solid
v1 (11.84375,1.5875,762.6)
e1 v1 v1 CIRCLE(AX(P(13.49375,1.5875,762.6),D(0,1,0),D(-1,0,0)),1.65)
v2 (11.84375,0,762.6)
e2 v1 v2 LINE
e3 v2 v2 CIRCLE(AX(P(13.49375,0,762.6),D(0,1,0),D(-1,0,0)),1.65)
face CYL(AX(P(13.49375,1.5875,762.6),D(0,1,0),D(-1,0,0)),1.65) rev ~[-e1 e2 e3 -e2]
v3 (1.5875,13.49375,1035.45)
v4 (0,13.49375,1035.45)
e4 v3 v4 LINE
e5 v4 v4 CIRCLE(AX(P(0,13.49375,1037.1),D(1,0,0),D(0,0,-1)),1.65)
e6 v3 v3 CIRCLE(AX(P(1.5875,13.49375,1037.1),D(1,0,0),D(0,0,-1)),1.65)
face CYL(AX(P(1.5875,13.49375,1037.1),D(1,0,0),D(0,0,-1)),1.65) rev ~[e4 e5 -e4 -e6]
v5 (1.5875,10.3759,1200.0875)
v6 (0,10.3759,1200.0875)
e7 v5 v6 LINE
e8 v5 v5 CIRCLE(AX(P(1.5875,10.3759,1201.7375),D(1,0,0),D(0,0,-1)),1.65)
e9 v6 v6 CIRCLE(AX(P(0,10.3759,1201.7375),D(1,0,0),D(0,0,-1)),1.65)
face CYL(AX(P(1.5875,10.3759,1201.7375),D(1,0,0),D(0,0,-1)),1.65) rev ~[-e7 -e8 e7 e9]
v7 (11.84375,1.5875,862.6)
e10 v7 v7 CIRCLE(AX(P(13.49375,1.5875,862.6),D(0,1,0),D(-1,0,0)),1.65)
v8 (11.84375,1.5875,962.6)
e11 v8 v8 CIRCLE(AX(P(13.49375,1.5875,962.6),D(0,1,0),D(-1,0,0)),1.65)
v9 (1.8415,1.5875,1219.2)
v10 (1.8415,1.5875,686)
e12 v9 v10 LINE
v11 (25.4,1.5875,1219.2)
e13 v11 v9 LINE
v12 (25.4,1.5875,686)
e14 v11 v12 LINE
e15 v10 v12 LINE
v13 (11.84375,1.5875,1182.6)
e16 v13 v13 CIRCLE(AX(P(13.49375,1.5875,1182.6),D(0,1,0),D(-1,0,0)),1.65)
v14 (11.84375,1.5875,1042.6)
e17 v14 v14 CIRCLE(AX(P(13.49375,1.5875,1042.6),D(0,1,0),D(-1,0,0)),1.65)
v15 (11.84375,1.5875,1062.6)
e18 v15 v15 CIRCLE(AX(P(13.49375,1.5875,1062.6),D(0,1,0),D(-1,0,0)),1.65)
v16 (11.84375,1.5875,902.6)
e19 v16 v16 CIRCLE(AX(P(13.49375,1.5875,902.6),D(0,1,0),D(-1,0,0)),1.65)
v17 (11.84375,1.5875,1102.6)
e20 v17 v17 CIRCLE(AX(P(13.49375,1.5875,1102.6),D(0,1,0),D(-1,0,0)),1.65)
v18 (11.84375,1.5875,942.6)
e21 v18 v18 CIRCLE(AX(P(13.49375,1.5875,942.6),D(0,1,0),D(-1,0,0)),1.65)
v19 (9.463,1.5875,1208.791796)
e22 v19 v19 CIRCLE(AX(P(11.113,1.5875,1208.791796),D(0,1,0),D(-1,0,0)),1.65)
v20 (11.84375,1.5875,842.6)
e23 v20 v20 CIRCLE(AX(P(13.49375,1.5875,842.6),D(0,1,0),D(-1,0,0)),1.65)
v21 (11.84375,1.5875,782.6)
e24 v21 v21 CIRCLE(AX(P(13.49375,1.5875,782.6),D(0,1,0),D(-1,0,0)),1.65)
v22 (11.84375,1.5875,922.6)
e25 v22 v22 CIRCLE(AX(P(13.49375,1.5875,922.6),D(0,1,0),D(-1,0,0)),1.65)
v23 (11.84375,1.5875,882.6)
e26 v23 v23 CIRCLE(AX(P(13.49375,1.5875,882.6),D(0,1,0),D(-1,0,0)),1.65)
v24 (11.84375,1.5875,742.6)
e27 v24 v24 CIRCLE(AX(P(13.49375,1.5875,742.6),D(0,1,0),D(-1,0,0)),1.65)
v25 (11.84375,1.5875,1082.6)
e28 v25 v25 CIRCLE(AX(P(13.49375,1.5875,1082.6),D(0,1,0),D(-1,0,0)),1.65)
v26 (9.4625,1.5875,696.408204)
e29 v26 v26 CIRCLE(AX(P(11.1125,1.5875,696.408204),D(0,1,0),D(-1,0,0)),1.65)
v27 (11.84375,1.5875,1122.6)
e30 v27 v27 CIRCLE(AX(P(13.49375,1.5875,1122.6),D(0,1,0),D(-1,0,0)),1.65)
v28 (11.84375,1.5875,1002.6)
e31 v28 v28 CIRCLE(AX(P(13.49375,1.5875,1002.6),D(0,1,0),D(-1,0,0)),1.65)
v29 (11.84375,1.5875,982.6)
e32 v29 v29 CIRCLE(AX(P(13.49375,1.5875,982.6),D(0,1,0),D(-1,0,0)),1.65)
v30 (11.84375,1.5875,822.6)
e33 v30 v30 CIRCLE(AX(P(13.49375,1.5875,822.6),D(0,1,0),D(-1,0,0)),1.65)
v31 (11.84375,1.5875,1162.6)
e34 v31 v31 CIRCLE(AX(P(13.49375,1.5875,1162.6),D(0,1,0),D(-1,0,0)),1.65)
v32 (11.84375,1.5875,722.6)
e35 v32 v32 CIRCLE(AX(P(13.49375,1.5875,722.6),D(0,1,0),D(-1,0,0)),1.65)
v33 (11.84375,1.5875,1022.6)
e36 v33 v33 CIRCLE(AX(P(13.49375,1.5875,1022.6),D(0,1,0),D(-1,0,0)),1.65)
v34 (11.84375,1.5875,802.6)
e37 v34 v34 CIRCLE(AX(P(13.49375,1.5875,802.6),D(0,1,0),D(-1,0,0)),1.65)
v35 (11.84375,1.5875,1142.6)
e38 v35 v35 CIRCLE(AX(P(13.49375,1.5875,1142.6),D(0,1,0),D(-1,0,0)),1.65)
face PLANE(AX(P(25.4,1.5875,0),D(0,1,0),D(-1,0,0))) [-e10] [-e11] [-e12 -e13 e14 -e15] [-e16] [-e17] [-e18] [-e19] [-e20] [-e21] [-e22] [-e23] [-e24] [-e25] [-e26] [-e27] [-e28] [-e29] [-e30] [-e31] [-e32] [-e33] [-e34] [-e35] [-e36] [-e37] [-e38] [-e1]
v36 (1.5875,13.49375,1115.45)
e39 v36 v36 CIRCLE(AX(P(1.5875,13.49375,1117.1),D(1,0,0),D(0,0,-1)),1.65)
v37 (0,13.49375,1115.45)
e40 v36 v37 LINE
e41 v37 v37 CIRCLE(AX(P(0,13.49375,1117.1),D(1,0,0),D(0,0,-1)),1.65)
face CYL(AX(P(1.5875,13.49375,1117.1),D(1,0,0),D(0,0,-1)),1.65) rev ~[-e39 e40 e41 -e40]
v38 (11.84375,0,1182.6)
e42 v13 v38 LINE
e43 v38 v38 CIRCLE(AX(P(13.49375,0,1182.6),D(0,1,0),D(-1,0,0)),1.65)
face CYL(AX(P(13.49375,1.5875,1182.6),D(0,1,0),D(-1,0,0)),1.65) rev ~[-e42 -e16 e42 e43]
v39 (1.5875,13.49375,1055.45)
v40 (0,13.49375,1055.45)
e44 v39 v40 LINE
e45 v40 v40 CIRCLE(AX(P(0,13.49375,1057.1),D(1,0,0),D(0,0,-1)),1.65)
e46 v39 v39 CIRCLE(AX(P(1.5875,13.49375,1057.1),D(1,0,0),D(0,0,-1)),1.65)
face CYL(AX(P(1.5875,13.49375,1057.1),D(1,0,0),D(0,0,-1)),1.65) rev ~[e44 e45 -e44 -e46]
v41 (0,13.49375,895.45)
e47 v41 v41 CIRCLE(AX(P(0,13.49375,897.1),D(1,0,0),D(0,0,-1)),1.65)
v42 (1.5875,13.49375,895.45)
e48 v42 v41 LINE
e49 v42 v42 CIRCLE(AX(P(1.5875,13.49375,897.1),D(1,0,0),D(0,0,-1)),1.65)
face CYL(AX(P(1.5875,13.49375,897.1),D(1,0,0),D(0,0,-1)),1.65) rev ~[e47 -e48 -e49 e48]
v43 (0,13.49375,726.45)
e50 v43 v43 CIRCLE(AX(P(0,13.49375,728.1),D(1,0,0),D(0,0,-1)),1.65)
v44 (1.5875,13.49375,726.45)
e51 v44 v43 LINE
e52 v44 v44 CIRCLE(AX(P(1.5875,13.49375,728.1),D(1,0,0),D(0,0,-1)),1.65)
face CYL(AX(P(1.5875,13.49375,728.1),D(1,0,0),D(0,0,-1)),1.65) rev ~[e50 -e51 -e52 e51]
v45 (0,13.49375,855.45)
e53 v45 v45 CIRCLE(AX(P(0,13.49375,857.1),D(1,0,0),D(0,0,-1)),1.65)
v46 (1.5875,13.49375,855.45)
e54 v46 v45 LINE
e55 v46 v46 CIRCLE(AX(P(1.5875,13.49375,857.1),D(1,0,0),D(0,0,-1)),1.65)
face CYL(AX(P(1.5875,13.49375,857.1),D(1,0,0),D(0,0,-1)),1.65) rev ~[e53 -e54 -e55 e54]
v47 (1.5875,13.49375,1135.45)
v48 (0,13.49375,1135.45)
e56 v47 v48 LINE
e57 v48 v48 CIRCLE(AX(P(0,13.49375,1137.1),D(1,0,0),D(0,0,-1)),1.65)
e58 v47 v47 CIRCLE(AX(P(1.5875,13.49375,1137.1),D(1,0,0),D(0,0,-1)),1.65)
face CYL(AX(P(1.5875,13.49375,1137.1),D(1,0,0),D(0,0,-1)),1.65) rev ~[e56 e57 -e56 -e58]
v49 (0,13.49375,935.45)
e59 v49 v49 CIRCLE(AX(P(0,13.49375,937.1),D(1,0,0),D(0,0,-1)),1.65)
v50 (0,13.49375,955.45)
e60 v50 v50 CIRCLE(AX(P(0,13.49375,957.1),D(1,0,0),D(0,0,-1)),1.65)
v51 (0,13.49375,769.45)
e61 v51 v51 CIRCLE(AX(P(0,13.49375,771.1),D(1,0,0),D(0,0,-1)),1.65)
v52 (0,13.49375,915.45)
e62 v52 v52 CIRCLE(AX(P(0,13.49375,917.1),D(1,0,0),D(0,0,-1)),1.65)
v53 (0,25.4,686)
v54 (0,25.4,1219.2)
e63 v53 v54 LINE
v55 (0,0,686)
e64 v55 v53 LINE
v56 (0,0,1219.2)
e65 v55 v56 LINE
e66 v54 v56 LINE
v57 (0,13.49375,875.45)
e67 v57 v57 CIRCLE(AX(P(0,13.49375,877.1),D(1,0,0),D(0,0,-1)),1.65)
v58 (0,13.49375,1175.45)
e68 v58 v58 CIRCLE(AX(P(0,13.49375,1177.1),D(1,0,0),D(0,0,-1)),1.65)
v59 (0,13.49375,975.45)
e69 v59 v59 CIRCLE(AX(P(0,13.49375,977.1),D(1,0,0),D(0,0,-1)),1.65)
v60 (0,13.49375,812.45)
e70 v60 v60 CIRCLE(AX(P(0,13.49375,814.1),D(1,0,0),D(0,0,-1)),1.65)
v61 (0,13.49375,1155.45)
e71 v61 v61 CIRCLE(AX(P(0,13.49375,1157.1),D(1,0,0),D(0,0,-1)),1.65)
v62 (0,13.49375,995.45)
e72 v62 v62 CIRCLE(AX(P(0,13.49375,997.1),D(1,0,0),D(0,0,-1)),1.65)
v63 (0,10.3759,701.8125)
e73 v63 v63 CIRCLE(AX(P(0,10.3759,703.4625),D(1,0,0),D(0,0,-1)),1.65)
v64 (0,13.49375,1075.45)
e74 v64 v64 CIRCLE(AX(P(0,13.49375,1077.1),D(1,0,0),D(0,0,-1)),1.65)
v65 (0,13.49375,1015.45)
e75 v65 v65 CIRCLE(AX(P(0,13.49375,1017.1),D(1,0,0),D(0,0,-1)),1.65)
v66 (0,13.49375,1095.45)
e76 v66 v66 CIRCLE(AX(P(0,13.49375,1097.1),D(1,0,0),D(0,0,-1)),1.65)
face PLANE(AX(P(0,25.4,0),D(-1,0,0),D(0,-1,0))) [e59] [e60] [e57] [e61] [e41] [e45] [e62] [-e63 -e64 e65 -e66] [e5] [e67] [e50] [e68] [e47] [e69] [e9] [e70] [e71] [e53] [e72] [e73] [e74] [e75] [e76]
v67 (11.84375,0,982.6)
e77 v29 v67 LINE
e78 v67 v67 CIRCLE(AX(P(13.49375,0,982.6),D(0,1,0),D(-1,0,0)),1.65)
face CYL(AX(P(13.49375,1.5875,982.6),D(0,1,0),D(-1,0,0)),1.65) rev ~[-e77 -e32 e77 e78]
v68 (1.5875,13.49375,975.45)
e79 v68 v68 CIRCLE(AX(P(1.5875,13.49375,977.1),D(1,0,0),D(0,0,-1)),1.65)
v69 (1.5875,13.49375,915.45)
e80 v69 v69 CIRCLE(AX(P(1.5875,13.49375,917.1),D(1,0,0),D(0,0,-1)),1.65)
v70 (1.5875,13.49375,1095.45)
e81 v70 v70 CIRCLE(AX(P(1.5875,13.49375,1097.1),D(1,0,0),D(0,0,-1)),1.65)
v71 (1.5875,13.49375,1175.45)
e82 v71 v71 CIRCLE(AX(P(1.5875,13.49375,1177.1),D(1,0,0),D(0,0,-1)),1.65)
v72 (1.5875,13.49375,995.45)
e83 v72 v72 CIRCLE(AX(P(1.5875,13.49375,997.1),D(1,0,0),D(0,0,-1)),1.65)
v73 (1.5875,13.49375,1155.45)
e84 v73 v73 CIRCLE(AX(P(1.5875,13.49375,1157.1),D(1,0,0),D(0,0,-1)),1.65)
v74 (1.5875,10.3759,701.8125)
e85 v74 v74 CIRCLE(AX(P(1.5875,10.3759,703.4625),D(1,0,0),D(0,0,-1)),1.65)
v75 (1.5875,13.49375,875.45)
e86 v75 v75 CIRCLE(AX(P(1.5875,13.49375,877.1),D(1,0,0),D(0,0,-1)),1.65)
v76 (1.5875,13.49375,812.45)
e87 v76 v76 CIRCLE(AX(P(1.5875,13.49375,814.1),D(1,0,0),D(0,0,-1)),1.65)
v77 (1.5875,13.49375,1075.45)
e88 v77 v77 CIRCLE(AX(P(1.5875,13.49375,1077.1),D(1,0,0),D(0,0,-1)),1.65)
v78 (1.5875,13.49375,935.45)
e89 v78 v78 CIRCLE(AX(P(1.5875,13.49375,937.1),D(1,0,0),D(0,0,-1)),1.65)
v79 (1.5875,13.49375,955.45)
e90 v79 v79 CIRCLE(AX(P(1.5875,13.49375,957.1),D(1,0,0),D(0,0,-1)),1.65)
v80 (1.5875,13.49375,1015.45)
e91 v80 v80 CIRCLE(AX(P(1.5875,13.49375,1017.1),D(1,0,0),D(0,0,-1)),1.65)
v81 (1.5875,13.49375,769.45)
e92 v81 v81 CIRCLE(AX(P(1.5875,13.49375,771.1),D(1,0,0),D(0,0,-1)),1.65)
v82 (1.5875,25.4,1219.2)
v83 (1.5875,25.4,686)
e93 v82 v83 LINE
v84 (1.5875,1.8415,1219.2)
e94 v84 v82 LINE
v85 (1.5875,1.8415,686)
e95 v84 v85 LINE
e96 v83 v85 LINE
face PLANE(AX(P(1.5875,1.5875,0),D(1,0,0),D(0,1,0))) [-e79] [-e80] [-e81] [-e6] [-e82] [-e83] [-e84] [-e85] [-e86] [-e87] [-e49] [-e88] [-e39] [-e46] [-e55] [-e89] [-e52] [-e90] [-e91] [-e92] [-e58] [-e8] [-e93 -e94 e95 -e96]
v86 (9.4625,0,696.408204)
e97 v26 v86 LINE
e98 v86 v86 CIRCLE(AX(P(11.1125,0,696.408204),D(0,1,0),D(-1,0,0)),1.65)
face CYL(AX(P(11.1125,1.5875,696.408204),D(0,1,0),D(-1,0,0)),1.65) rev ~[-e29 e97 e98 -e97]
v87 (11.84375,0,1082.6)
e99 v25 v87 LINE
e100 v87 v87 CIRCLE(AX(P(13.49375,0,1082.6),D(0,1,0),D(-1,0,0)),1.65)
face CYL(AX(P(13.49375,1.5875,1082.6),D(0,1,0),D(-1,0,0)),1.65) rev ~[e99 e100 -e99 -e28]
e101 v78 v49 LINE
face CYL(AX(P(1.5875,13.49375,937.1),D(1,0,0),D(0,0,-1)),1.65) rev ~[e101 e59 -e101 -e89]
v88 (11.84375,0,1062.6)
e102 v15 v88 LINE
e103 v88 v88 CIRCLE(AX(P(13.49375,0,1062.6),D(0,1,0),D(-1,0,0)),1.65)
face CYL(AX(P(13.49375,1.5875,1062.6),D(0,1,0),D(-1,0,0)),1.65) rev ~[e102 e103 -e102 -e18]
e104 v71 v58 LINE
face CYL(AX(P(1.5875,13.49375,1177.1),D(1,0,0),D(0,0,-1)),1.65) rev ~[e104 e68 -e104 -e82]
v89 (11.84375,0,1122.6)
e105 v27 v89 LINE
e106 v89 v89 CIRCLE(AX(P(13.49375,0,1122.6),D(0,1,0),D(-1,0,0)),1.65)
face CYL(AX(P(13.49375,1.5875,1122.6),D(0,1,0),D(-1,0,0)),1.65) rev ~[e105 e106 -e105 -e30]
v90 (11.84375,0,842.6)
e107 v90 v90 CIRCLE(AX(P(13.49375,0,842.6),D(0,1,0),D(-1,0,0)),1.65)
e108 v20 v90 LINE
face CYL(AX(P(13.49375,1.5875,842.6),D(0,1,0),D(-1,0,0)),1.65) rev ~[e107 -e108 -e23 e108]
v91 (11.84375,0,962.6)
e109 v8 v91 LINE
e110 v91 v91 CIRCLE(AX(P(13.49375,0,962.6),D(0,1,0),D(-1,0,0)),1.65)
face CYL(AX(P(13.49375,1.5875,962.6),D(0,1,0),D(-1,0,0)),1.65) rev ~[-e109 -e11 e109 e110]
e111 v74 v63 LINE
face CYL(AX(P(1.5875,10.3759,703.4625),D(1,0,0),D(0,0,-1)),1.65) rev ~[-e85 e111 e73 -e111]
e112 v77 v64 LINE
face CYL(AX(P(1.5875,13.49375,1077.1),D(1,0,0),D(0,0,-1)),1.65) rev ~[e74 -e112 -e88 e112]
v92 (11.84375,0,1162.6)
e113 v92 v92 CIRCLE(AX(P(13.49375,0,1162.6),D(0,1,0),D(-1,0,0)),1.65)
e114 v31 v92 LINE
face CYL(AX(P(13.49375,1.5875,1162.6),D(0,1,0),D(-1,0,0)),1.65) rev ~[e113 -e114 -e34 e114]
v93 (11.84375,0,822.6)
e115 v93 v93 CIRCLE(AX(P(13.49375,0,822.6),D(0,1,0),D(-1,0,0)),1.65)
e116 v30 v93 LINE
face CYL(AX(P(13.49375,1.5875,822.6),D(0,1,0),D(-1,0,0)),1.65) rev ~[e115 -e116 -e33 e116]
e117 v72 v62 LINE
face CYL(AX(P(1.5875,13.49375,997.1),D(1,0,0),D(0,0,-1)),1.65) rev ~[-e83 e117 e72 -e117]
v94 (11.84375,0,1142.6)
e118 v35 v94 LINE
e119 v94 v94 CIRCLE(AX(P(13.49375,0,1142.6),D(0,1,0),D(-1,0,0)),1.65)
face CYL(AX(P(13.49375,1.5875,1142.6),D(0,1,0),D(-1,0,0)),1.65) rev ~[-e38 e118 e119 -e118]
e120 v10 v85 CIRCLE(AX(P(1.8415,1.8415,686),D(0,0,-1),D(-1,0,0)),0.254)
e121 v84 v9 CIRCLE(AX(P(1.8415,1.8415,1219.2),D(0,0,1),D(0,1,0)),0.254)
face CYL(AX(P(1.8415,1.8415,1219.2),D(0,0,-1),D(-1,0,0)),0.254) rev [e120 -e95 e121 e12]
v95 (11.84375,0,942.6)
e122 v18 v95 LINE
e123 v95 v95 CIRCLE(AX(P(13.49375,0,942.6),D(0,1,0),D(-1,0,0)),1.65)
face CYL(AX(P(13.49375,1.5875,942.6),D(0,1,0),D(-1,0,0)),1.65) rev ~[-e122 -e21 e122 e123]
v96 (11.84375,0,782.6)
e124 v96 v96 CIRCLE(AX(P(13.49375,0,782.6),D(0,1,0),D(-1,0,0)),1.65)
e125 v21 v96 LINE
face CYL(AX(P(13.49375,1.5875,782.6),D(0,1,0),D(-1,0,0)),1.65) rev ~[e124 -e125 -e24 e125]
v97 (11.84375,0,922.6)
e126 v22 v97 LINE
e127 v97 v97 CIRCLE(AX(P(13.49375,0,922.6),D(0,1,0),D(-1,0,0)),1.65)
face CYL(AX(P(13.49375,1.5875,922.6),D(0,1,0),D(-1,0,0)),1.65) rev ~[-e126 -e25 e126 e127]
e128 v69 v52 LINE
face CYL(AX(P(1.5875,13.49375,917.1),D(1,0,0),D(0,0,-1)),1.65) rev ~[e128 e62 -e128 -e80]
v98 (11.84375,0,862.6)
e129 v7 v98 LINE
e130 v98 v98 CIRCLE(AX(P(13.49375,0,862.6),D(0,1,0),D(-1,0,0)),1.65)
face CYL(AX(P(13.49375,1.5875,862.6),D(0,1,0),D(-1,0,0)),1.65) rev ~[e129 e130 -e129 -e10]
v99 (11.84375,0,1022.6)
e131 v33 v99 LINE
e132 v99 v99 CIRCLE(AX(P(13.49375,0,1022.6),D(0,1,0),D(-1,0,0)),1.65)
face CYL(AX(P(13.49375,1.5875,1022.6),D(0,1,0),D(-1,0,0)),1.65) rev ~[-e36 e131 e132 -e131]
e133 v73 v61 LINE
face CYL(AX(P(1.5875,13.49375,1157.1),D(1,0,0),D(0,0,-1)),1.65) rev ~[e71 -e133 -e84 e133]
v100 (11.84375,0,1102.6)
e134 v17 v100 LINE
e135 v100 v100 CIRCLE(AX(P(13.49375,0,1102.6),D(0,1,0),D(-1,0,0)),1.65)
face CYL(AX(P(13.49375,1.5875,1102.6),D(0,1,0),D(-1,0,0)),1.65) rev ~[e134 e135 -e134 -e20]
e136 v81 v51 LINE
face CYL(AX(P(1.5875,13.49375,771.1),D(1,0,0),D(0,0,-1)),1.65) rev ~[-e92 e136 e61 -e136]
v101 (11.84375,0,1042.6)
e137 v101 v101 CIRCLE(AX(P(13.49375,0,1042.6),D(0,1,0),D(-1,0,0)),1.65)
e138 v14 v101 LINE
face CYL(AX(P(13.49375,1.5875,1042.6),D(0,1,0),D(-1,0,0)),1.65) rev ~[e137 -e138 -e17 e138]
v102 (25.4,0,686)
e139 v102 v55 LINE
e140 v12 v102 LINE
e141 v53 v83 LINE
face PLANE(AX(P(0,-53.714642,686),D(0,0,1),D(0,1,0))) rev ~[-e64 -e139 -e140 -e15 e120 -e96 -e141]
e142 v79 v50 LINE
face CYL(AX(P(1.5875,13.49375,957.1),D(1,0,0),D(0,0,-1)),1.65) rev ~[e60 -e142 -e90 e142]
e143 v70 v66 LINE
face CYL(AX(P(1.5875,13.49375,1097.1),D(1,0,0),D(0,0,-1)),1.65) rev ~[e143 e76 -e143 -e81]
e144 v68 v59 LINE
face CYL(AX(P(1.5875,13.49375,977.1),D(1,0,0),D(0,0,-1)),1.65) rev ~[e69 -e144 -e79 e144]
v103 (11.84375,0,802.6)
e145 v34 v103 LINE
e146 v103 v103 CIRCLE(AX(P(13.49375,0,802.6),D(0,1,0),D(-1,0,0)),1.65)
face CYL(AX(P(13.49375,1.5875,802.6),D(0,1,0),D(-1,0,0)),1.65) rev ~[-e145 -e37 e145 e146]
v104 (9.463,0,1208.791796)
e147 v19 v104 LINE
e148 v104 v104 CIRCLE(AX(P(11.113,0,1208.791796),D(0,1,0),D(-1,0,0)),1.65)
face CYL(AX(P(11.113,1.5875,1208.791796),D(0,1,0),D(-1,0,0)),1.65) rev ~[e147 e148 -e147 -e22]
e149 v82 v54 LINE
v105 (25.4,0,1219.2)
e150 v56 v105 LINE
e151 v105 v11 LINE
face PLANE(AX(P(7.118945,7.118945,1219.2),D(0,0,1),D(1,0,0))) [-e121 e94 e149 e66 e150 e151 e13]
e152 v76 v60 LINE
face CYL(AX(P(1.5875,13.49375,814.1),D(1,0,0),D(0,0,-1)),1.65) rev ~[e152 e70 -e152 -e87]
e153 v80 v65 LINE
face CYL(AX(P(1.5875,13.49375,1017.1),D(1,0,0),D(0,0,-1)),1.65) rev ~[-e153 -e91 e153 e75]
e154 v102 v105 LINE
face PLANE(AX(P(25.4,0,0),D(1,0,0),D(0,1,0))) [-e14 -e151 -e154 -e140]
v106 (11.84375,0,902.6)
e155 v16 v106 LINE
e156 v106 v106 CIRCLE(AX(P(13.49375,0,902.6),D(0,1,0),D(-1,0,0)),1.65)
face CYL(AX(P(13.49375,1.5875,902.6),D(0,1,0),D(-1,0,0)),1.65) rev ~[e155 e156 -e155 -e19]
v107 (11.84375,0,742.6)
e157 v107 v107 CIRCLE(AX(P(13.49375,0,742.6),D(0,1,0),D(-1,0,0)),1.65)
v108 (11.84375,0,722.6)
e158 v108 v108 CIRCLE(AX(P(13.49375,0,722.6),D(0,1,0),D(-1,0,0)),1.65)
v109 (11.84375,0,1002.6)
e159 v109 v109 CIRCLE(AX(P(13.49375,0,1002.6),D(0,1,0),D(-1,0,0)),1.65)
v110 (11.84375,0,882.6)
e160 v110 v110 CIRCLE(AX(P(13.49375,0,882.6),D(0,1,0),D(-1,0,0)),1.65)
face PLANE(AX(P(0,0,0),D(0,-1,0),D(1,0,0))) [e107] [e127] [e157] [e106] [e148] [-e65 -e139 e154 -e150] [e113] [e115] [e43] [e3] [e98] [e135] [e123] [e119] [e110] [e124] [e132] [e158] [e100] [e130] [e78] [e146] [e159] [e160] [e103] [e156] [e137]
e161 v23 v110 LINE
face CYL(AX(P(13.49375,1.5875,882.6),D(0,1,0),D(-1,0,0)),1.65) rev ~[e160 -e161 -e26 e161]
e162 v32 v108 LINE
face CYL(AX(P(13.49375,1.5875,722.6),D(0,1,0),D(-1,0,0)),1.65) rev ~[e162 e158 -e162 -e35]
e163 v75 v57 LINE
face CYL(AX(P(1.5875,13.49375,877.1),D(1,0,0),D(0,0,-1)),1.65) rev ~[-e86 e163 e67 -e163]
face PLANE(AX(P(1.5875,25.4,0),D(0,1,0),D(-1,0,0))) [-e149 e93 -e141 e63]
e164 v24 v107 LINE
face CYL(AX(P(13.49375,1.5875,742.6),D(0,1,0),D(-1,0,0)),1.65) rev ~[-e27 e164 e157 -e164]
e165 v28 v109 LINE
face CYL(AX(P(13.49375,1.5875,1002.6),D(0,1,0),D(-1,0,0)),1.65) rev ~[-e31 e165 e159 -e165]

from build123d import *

# Parameters (mm, degrees)
BOSS_EXTRUDE1_DEPTH = 1219.2
FILLET1_R           = 0.254
SKETCH4_W           = 1905.2
SKETCH4_H           = 92.573708452
CUT_EXTRUDE1_DEPTH  = 60
SKETCH9_R           = 1.65
CUT_EXTRUDE6_DEPTH  = 60
SKETCH10_R          = 1.65
CUT_EXTRUDE7_DEPTH  = 60


with BuildPart() as part:
    # Sketch3 → Boss-Extrude1 (new, symmetric)
    with BuildSketch(Plane.XY):
        Polygon((1.5875, 25.4), (0, 25.4), (0, 0), (25.4, 0), (25.4, 1.5875), (1.5875, 1.5875), align=None)
    extrude(amount=BOSS_EXTRUDE1_DEPTH, both=True)

    # Fillet1
    fillet1_edges = [part.edges().sort_by_distance(p)[0] for p in [
        (1.5875, 1.5875, 0),
    ]]
    fillet(fillet1_edges, radius=FILLET1_R)

    # Sketch4 → Cut-Extrude1 (cut)
    with BuildSketch(Plane.ZY):
        with Locations((-266.6, -7.427787689)):
            Rectangle(SKETCH4_W, SKETCH4_H)
    extrude(amount=-CUT_EXTRUDE1_DEPTH, mode=Mode.SUBTRACT)

    # Sketch9 → Cut-Extrude6 (cut)
    with BuildSketch(Plane(origin=(0, 1.5875, 0), x_dir=(1, 0, 0), z_dir=(0, 1, 0))):
        with Locations(Location((11.113, -1208.791795667, 0), (0, 0, 180))):
            Circle(SKETCH9_R)
        with Locations(Location((11.1125, -696.408204333, 0), (0, 0, 180))):
            Circle(SKETCH9_R)
        with Locations(Location((13.49375, -1182.6, 0), (0, 0, 180))):
            Circle(SKETCH9_R)
        with Locations(Location((13.49375, -1162.6, 0), (0, 0, 180))):
            Circle(SKETCH9_R)
        with Locations(Location((13.49375, -1142.6, 0), (0, 0, 180))):
            Circle(SKETCH9_R)
        with Locations(Location((13.49375, -1122.6, 0), (0, 0, 180))):
            Circle(SKETCH9_R)
        with Locations(Location((13.49375, -1102.6, 0), (0, 0, 180))):
            Circle(SKETCH9_R)
        with Locations(Location((13.49375, -1082.6, 0), (0, 0, 180))):
            Circle(SKETCH9_R)
        with Locations(Location((13.49375, -1062.6, 0), (0, 0, 180))):
            Circle(SKETCH9_R)
        with Locations(Location((13.49375, -1042.6, 0), (0, 0, 180))):
            Circle(SKETCH9_R)
        with Locations(Location((13.49375, -1022.6, 0), (0, 0, 180))):
            Circle(SKETCH9_R)
        with Locations(Location((13.49375, -1002.6, 0), (0, 0, 180))):
            Circle(SKETCH9_R)
        with Locations(Location((13.49375, -982.6, 0), (0, 0, 180))):
            Circle(SKETCH9_R)
        with Locations(Location((13.49375, -962.6, 0), (0, 0, 180))):
            Circle(SKETCH9_R)
        with Locations(Location((13.49375, -942.6, 0), (0, 0, 180))):
            Circle(SKETCH9_R)
        with Locations(Location((13.49375, -922.6, 0), (0, 0, 180))):
            Circle(SKETCH9_R)
        with Locations(Location((13.49375, -902.6, 0), (0, 0, 180))):
            Circle(SKETCH9_R)
        with Locations(Location((13.49375, -882.6, 0), (0, 0, 180))):
            Circle(SKETCH9_R)
        with Locations(Location((13.49375, -862.6, 0), (0, 0, 180))):
            Circle(SKETCH9_R)
        with Locations(Location((13.49375, -842.6, 0), (0, 0, 180))):
            Circle(SKETCH9_R)
        with Locations(Location((13.49375, -822.6, 0), (0, 0, 180))):
            Circle(SKETCH9_R)
        with Locations(Location((13.49375, -802.6, 0), (0, 0, 180))):
            Circle(SKETCH9_R)
        with Locations(Location((13.49375, -782.6, 0), (0, 0, 180))):
            Circle(SKETCH9_R)
        with Locations(Location((13.49375, -762.6, 0), (0, 0, 180))):
            Circle(SKETCH9_R)
        with Locations(Location((13.49375, -742.6, 0), (0, 0, 180))):
            Circle(SKETCH9_R)
        with Locations(Location((13.49375, -722.6, 0), (0, 0, 180))):
            Circle(SKETCH9_R)
    extrude(amount=-CUT_EXTRUDE6_DEPTH, mode=Mode.SUBTRACT)

    # Sketch10 → Cut-Extrude7 (cut)
    with BuildSketch(Plane(origin=(1.5875, 0, 0), x_dir=(0, 0, -1), z_dir=(1, 0, 0))):
        with Locations((-703.4625, 10.3759)):
            Circle(SKETCH10_R)
        with Locations((-1201.7375, 10.3759)):
            Circle(SKETCH10_R)
        with Locations((-728.1, 13.49375)):
            Circle(SKETCH10_R)
        with Locations((-771.1, 13.49375)):
            Circle(SKETCH10_R)
        with Locations((-814.1, 13.49375)):
            Circle(SKETCH10_R)
        with Locations((-857.1, 13.49375)):
            Circle(SKETCH10_R)
        with Locations((-877.1, 13.49375)):
            Circle(SKETCH10_R)
        with Locations((-897.1, 13.49375)):
            Circle(SKETCH10_R)
        with Locations((-917.1, 13.49375)):
            Circle(SKETCH10_R)
        with Locations((-937.1, 13.49375)):
            Circle(SKETCH10_R)
        with Locations((-957.1, 13.49375)):
            Circle(SKETCH10_R)
        with Locations((-977.1, 13.49375)):
            Circle(SKETCH10_R)
        with Locations((-997.1, 13.49375)):
            Circle(SKETCH10_R)
        with Locations((-1017.1, 13.49375)):
            Circle(SKETCH10_R)
        with Locations((-1037.1, 13.49375)):
            Circle(SKETCH10_R)
        with Locations((-1057.1, 13.49375)):
            Circle(SKETCH10_R)
        with Locations((-1077.1, 13.49375)):
            Circle(SKETCH10_R)
        with Locations((-1097.1, 13.49375)):
            Circle(SKETCH10_R)
        with Locations((-1117.1, 13.49375)):
            Circle(SKETCH10_R)
        with Locations((-1137.1, 13.49375)):
            Circle(SKETCH10_R)
        with Locations((-1157.1, 13.49375)):
            Circle(SKETCH10_R)
        with Locations((-1177.1, 13.49375)):
            Circle(SKETCH10_R)
    extrude(amount=-CUT_EXTRUDE7_DEPTH, mode=Mode.SUBTRACT)


solid = part.part
